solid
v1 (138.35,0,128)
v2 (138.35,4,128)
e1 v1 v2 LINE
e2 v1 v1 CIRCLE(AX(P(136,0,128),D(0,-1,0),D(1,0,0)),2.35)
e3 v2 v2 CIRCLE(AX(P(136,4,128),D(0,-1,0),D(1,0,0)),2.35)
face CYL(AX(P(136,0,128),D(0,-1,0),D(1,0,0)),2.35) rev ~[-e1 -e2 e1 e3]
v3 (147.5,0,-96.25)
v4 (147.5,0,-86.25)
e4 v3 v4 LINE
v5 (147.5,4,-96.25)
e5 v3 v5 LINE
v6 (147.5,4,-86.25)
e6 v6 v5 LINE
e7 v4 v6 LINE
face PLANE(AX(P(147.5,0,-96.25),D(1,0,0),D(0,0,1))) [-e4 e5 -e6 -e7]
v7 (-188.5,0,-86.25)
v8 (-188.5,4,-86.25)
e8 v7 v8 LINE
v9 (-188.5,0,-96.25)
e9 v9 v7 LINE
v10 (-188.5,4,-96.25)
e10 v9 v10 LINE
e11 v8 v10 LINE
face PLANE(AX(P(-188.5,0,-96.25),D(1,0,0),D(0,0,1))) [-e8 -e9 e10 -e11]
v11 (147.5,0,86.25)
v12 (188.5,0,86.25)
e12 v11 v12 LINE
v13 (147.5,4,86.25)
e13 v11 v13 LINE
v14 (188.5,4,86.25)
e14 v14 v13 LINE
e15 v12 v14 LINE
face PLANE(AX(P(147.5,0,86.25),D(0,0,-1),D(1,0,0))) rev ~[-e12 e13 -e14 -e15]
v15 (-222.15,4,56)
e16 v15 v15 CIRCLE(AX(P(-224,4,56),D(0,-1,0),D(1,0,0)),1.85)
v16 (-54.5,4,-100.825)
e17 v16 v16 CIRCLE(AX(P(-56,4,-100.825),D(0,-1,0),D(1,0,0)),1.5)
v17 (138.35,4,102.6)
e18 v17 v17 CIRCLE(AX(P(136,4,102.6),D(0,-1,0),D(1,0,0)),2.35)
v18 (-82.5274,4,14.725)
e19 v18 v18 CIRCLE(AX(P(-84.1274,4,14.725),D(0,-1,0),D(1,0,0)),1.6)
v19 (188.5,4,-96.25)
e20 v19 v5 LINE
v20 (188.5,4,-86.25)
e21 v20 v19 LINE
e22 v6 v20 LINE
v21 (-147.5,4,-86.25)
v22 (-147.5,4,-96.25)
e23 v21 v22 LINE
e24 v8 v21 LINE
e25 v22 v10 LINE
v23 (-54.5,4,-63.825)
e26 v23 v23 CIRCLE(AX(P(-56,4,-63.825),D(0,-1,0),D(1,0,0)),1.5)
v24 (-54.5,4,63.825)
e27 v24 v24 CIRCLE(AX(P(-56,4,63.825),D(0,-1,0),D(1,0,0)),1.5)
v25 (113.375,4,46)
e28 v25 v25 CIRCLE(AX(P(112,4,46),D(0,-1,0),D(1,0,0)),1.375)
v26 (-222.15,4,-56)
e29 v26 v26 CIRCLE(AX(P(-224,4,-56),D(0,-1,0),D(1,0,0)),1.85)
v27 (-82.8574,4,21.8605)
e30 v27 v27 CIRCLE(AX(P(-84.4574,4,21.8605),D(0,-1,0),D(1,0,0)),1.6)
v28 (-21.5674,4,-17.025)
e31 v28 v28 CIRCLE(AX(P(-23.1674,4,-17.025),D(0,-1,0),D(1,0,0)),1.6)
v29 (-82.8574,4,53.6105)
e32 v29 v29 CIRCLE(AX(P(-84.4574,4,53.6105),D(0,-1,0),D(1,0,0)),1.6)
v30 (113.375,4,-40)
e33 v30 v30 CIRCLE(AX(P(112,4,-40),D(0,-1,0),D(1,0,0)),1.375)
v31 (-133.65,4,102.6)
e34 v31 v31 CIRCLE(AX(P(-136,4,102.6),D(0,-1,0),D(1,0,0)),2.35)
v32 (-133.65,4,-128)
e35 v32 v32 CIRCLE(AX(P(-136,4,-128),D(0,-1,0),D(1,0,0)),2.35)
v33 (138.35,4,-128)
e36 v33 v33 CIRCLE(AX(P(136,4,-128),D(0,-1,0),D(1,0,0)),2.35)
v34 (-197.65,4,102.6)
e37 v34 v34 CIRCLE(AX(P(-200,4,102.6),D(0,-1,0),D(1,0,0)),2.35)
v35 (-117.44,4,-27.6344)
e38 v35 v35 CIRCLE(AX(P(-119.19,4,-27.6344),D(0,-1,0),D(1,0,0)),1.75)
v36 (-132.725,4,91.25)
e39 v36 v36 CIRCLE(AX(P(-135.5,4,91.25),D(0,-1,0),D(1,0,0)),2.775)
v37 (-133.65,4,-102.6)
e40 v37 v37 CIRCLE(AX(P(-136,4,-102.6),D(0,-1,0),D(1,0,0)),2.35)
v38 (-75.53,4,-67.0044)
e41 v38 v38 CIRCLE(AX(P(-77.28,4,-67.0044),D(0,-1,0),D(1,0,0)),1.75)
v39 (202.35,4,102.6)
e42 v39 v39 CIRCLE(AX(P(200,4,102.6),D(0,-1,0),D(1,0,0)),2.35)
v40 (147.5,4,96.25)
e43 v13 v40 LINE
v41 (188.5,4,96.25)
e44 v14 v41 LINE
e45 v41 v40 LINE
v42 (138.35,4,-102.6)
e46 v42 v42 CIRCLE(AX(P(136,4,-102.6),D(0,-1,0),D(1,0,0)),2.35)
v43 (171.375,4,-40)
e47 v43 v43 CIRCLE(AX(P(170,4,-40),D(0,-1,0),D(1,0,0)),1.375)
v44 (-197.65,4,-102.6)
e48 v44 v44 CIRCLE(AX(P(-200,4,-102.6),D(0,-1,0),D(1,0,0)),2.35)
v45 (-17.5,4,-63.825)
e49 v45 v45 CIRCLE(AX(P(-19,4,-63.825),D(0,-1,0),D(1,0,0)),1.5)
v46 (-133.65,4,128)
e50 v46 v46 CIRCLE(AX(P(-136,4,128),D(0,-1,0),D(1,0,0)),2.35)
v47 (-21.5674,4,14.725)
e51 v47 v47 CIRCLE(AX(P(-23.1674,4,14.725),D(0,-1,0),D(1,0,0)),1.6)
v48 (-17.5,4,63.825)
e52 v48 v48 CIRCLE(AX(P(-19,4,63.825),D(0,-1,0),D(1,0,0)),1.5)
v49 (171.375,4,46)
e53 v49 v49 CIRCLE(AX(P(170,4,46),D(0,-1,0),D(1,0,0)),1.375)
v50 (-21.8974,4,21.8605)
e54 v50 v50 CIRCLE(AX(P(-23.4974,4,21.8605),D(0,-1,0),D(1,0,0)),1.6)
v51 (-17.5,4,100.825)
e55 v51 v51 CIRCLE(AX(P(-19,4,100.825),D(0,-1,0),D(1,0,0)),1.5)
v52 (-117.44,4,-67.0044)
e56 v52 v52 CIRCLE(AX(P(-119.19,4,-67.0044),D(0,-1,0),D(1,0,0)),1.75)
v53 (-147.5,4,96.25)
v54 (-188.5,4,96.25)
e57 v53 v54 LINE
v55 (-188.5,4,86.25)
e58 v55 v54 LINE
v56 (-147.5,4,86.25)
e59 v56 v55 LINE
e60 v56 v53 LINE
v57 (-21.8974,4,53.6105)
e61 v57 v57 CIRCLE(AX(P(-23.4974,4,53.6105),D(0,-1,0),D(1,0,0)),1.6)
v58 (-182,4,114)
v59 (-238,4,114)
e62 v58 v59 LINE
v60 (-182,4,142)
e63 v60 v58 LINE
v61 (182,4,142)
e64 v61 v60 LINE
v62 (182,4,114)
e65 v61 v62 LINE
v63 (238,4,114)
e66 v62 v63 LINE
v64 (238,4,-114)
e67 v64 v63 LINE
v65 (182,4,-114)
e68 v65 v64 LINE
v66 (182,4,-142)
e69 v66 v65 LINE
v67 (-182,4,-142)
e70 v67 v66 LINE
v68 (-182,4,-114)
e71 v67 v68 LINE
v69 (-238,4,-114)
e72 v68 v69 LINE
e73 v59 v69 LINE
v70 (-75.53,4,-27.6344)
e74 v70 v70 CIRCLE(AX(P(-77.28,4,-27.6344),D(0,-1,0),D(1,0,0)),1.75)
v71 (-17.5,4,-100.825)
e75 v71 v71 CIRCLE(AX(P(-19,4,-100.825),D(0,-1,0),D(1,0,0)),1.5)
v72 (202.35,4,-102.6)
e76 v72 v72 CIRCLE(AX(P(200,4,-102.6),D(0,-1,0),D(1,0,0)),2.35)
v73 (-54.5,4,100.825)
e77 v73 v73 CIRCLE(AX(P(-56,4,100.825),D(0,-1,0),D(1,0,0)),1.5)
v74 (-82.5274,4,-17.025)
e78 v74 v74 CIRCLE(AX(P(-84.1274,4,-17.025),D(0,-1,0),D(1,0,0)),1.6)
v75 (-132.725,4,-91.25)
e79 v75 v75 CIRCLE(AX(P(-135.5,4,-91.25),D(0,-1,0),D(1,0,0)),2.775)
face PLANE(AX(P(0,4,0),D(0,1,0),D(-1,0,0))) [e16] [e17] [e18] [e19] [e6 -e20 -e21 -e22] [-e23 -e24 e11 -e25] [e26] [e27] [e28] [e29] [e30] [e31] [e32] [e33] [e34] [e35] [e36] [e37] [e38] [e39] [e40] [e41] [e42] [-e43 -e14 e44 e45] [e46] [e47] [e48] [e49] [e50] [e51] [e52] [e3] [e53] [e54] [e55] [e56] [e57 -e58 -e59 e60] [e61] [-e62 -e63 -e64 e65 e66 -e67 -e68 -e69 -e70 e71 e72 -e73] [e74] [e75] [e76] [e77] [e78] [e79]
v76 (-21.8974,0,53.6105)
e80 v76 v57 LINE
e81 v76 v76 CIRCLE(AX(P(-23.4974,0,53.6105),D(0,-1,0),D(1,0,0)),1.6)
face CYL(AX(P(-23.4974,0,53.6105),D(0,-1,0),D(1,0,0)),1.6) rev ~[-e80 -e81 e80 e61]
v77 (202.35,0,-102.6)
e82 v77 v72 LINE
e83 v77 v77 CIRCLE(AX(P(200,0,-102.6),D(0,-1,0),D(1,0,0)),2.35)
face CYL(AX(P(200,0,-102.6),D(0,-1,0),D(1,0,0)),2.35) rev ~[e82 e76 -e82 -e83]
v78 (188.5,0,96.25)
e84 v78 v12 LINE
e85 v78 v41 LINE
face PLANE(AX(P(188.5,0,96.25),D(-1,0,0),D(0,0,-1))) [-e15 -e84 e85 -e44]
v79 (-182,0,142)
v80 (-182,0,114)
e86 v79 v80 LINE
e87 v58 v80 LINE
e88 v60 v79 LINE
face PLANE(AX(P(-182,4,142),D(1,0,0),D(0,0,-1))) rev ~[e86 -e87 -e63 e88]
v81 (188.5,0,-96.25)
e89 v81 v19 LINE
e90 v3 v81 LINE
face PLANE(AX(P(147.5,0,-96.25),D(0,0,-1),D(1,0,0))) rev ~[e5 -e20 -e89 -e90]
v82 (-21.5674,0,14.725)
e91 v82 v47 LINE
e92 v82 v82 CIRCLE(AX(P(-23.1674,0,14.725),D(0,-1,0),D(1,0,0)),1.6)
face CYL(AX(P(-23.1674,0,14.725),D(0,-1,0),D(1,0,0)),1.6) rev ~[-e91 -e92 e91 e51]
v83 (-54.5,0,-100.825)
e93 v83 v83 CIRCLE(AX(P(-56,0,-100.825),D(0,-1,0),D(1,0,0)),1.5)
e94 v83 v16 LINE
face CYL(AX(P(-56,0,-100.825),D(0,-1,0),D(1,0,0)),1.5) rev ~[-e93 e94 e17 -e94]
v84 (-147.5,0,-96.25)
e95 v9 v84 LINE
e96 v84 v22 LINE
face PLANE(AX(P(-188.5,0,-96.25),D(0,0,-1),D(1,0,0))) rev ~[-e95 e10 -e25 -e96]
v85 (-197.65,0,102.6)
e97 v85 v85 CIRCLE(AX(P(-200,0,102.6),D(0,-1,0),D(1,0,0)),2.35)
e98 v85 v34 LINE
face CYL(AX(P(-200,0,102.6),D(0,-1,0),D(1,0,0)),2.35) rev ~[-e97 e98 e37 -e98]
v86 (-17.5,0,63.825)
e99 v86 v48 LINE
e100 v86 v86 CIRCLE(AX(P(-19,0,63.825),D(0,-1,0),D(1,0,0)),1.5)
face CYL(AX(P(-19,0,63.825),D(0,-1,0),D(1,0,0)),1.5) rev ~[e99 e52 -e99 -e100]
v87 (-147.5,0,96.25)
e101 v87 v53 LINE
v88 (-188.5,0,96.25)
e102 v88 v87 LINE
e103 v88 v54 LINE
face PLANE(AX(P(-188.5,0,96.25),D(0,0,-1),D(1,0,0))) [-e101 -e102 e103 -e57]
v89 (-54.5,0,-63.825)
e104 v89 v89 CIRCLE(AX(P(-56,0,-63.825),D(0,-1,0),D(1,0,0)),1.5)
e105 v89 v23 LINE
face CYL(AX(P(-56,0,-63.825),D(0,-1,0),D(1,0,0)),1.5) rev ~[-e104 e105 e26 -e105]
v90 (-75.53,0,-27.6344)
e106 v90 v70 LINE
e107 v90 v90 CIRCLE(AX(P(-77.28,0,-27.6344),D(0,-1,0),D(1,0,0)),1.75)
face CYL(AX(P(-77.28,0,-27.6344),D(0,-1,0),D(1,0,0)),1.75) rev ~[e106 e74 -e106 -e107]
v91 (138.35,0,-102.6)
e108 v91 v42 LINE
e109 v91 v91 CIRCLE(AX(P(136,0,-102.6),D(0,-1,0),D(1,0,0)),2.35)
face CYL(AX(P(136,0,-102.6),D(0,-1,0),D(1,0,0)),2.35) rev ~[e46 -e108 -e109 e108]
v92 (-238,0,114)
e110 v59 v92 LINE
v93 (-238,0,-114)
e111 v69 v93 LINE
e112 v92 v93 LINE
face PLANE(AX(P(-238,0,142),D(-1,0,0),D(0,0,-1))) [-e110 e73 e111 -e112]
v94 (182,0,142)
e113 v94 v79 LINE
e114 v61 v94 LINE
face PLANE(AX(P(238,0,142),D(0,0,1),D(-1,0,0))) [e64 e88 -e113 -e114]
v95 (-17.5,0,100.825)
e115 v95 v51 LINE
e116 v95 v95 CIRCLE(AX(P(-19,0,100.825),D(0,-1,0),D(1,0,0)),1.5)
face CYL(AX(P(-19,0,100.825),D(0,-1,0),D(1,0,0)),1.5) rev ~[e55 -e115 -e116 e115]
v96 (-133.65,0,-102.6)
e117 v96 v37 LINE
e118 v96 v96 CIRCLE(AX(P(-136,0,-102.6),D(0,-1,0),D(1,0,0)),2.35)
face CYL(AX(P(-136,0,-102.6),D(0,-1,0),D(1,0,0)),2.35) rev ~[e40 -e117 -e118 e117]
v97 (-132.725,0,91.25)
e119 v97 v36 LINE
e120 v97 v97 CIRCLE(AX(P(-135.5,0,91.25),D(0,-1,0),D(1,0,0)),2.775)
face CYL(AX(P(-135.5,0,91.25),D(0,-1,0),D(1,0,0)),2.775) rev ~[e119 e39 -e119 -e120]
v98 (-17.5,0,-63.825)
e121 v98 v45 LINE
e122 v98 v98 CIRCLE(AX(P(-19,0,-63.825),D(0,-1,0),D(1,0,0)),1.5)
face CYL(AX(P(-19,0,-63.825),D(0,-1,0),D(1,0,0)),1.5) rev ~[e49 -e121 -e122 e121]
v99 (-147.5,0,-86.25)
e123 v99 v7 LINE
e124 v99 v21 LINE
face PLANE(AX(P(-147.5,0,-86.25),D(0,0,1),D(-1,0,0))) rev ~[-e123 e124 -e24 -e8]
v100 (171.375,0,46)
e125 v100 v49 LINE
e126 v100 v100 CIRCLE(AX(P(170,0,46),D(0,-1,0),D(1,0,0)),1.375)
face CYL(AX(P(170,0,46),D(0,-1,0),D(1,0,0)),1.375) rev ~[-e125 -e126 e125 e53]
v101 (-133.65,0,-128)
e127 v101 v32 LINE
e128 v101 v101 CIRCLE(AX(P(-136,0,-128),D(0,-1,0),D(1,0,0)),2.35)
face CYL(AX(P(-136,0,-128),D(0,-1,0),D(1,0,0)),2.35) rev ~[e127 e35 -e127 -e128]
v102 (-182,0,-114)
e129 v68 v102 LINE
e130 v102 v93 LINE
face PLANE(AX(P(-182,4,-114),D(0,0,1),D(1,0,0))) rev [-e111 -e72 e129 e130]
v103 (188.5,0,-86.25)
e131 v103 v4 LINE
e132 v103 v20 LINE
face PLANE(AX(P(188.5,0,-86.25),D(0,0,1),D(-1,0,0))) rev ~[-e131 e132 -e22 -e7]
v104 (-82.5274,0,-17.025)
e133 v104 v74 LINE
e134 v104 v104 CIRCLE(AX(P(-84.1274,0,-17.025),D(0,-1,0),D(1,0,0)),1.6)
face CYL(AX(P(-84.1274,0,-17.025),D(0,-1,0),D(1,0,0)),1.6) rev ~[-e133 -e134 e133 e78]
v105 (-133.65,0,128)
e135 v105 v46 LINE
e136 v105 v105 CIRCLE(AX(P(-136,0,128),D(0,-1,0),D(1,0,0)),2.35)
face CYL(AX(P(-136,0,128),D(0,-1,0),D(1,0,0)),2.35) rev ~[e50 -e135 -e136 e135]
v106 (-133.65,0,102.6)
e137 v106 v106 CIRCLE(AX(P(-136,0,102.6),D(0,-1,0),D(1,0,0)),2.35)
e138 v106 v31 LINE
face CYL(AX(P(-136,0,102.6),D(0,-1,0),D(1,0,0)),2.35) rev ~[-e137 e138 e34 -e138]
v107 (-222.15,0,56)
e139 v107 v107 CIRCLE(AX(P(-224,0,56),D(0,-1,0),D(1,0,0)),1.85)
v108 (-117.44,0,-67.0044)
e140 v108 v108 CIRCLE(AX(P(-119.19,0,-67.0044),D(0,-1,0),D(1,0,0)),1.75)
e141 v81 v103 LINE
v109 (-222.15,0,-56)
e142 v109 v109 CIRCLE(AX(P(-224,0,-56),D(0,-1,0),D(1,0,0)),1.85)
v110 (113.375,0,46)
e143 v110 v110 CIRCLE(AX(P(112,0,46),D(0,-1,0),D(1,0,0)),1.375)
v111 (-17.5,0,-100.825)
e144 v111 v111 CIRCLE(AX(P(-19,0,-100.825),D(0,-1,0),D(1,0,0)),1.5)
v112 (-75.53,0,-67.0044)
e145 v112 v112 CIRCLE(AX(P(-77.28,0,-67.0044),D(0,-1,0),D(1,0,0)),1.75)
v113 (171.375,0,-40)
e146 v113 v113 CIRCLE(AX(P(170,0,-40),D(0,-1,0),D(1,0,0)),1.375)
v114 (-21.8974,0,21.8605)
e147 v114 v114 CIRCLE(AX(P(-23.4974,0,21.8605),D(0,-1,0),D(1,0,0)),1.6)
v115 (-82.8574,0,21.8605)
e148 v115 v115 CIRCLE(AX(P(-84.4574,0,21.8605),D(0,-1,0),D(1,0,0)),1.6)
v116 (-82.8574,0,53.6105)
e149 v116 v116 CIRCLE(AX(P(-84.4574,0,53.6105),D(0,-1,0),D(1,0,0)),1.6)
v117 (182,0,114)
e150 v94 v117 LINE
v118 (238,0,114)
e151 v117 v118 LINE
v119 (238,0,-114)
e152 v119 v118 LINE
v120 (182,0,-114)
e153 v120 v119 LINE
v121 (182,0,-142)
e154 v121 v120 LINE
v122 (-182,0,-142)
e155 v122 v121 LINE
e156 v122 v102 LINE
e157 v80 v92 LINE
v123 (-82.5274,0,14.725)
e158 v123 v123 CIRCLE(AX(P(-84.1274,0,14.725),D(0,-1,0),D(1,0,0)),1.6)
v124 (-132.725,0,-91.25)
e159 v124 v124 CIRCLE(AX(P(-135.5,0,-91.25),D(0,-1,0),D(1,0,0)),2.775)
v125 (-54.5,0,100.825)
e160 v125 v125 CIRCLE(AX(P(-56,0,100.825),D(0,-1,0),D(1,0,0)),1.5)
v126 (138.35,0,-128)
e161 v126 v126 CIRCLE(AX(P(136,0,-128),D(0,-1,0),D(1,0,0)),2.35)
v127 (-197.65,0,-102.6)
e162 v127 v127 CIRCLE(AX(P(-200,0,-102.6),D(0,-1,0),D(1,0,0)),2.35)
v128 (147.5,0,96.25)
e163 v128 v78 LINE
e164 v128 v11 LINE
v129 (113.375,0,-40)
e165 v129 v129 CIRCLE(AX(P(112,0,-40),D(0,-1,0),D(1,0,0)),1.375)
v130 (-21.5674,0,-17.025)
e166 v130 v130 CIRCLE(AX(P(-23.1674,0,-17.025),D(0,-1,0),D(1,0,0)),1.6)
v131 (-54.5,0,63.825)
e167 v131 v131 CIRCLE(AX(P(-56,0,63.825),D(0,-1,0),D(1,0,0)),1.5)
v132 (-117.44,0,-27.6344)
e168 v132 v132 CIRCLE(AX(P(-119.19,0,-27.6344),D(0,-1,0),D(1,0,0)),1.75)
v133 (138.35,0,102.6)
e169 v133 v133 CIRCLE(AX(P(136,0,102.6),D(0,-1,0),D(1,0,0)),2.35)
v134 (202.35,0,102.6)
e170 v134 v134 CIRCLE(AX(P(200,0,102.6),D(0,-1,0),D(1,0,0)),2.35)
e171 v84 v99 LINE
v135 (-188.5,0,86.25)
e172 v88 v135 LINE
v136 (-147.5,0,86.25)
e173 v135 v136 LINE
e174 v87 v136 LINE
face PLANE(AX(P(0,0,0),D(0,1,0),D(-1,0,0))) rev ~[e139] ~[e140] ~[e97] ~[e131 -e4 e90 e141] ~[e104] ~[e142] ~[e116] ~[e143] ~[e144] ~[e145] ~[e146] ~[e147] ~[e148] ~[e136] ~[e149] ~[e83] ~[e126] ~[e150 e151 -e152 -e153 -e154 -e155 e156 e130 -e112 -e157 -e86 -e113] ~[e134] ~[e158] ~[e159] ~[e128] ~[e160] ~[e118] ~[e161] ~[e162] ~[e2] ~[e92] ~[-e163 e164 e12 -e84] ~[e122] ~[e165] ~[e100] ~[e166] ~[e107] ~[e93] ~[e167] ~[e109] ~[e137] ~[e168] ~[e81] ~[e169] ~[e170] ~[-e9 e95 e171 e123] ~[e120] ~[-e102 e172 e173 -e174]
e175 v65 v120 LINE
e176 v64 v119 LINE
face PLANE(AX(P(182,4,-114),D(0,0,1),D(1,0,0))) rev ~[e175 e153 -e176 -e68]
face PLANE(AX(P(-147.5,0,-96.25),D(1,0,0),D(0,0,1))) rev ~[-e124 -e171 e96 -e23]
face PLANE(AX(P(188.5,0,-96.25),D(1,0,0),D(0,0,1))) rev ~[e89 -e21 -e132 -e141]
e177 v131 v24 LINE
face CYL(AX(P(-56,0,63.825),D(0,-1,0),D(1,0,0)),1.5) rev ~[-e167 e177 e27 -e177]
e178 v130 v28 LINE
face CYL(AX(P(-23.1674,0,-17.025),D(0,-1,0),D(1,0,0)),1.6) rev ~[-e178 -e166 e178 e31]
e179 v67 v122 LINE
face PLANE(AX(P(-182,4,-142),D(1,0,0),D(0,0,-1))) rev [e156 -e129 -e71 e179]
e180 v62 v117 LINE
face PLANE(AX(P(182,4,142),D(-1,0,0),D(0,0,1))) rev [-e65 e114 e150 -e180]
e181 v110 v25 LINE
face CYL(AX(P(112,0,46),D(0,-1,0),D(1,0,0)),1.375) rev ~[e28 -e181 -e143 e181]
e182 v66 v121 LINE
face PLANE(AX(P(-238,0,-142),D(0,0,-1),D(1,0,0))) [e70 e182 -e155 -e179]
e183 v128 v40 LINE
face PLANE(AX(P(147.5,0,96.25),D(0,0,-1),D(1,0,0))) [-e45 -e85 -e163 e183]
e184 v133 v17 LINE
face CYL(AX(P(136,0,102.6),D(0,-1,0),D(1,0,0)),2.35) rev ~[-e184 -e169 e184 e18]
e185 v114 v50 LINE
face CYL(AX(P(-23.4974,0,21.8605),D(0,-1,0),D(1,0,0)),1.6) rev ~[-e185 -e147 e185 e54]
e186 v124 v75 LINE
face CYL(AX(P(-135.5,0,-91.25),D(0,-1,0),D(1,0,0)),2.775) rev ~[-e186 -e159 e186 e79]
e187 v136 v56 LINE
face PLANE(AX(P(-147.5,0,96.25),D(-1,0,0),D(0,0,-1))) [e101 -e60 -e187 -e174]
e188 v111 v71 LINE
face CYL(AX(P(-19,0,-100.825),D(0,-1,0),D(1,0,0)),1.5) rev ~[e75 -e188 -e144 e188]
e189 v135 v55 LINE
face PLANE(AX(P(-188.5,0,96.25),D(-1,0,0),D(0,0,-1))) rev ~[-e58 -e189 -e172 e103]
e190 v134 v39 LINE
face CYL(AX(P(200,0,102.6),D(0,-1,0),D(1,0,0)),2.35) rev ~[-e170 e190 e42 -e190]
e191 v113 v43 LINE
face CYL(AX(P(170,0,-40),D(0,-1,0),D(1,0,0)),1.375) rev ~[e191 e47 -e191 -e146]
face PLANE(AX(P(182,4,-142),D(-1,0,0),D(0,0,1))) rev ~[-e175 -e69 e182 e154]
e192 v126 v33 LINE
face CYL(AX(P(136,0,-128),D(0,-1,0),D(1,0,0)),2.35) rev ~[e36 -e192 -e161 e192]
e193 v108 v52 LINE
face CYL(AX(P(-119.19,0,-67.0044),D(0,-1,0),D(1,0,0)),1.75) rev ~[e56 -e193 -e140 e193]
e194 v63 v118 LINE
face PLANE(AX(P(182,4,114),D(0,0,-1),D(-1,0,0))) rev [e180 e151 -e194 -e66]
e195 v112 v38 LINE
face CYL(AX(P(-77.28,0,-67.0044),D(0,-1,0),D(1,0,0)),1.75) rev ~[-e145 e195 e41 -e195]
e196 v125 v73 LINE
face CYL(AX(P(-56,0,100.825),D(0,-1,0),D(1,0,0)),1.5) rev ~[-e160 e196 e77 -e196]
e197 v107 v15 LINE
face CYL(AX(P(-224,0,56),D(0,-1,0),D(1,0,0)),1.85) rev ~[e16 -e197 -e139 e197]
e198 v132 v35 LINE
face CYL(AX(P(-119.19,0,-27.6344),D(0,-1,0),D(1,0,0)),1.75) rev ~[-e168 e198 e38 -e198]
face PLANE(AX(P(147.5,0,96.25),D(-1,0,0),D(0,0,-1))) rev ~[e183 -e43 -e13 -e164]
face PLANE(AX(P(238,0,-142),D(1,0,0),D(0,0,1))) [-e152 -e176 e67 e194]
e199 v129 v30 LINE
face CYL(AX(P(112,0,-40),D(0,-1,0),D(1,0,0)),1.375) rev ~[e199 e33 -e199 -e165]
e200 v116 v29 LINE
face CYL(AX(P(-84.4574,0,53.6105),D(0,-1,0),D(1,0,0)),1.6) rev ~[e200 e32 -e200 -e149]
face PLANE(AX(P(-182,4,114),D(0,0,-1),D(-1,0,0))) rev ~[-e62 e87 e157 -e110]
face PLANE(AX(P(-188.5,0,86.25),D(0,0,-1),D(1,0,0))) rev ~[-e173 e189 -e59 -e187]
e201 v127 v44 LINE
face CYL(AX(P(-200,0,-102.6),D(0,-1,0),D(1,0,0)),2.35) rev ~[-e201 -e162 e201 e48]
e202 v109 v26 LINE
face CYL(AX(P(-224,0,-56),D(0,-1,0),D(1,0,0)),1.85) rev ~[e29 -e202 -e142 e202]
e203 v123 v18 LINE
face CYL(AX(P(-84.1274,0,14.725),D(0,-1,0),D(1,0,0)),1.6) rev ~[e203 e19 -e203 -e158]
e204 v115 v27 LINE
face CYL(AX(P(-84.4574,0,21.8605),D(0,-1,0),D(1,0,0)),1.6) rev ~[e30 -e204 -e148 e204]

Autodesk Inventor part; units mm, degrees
ref_plane "YZ Plane" through (0, 0, 0) normal (1, 0, 0) x (0, 1, 0)
ref_plane "XZ Plane" through (0, 0, 0) normal (0, 1, 0) x (-1, 0, 0)
ref_plane "XY Plane" through (0, 0, 0) normal (0, 0, 1) x (1, 0, 0)
sketch "Эскиз1" plane through (0, 0, 0) normal (0, 1, 0) x (-1, 0, 0)
  line L0 (-238, 142) -> (238, 142)
  line L1 (238, 142) -> (238, -142)
  line L2 (238, -142) -> (-238, -142)
  line L3 (-238, -142) -> (-238, 142)
  line L4 (-238, 142) -> (238, -142) construction
  line L5 (238, 142) -> (-238, -142) construction
  circle A0 centre (-139.231, 22.646) radius 2
  point P0 (0, 0)
  dimension "d0" = 476
  dimension "d1" = 284
  dimension "d10" = 4
extrude "Выдавливание1" add sketch "Эскиз1" along normal blind 4 contours L0 L1 L2 L3 | A0
sketch "Эскиз2" plane through (0, 4, 0) normal (0, 1, 0) x (1, 0, 0)
  line L0 (-238, -142) -> (238, -142) projected
  line L1 (-238, -142) -> (-182, -142)
  line L2 (-182, -142) -> (-182, -114)
  line L3 (-182, -114) -> (-238, -114)
  line L4 (-238, -114) -> (-238, -142)
  point P0 (0, 0)
  dimension "d4" = 56
  dimension "d5" = 28
extrude "Выдавливание2" cut sketch "Эскиз2" against normal blind 4
mirror "Зеркальное отражение1" about plane through (0, 0, 0) normal (1, 0, 0) of "Выдавливание2"
mirror "Зеркальное отражение2" about plane through (0, 0, 0) normal (0, 0, 1) of "Выдавливание2", "Зеркальное отражение1"
sketch "Эскиз9" plane through (0, 0, 0) normal (0, -1, 0) x (1, 0, 0)
  circle A0 centre (-200, -128) radius 2.35 projected
  circle A1 centre (-136, -128) radius 2.35 projected
  circle A2 centre (-136, -128) radius 2.35 projected
  circle A3 centre (-136, -128) radius 2.35 projected
  circle A4 centre (-136, -102.6) radius 2.35 projected
  circle A5 centre (-200, -102.6) radius 2.35 projected
  circle A6 centre (-136, 102.6) radius 2.35 projected
  circle A7 centre (-136, 128) radius 2.35 projected
  circle A8 centre (-200, 102.6) radius 2.35 projected
  circle A9 centre (-200, 102.6) radius 2.35 projected
  circle A10 centre (-200, 102.6) radius 2.35 projected
  circle A11 centre (-200, 128) radius 2.35 projected
  circle A12 centre (200, 102.6) radius 2.35 projected
  circle A13 centre (200, 128) radius 2.35 projected
  circle A14 centre (136, 128) radius 2.35 projected
  circle A15 centre (136, 102.6) radius 2.35 projected
  circle A16 centre (200, -102.6) radius 2.35 projected
  circle A17 centre (200, -128) radius 2.35 projected
  circle A18 centre (136, -102.6) radius 2.35 projected
  circle A19 centre (136, -128) radius 2.35 projected
  point P0 (0, 0)
extrude "Выдавливание9" cut sketch "Эскиз9" against normal blind 10
sketch "Эскиз10" plane through (0, 0, 0) normal (0, -1, 0) x (1, 0, 0)
  line L0 (188.5, -86.25) -> (147.5, -86.25) projected
  line L1 (188.5, -96.25) -> (188.5, -86.25) projected
  line L2 (147.5, -96.25) -> (147.5, -86.25) projected
  line L3 (147.5, 96.25) -> (147.5, 86.25) projected
  line L4 (147.5, 86.25) -> (188.5, 86.25) projected
  line L5 (188.5, 96.25) -> (188.5, 86.25) projected
  line L6 (-188.5, 96.25) -> (-188.5, 86.25) projected
  line L7 (-188.5, 86.25) -> (-147.5, 86.25) projected
  line L8 (-147.5, 96.25) -> (-147.5, 86.25) projected
  line L9 (-188.5, -96.25) -> (-188.5, -86.25) projected
  line L10 (-147.5, -86.25) -> (-188.5, -86.25) projected
  line L11 (-147.5, -96.25) -> (-147.5, -86.25) projected
  line L12 (-188.5, 96.25) -> (-147.5, 96.25)
  line L13 (-147.5, 96.25) -> (-147.5, 86.25)
  line L14 (-147.5, 86.25) -> (-188.5, 86.25)
  line L15 (-188.5, 86.25) -> (-188.5, 96.25)
  line L16 (147.5, 96.25) -> (188.5, 96.25)
  line L17 (188.5, 96.25) -> (188.5, 86.25)
  line L18 (188.5, 86.25) -> (147.5, 86.25)
  line L19 (147.5, 86.25) -> (147.5, 96.25)
  line L20 (147.5, -96.25) -> (188.5, -96.25)
  line L21 (188.5, -96.25) -> (188.5, -86.25)
  line L22 (188.5, -86.25) -> (147.5, -86.25)
  line L23 (147.5, -86.25) -> (147.5, -96.25)
  line L24 (-188.5, -96.25) -> (-147.5, -96.25)
  line L25 (-147.5, -96.25) -> (-147.5, -86.25)
  line L26 (-147.5, -86.25) -> (-188.5, -86.25)
  line L27 (-188.5, -86.25) -> (-188.5, -96.25)
  point P0 (0, 0)
extrude "Выдавливание10" cut sketch "Эскиз10" against normal blind 10
sketch "Эскиз12" plane through (0, 0, 0) normal (0, -1, 0) x (1, 0, 0)
  circle A0 centre (-224, 56) radius 1.85 projected
  circle A1 centre (-224, -56) radius 1.85 projected
  circle A2 centre (-135.5, -91.25) radius 2.775 projected
  circle A3 centre (-135.5, 91.25) radius 2.775 projected
  circle A4 centre (-119.19, -27.6344) radius 1.75 projected
  circle A5 centre (-77.28, -27.6344) radius 1.75 projected
  circle A6 centre (-77.28, -67.0044) radius 1.75 projected
  circle A7 centre (-119.19, -67.0044) radius 1.75 projected
  circle A8 centre (-56, -63.825) radius 1.5 projected
  circle A9 centre (-56, -100.825) radius 1.5 projected
  circle A10 centre (-19, -100.825) radius 1.5 projected
  circle A11 centre (-19, -63.825) radius 1.5 projected
  circle A12 centre (-56, 63.825) radius 1.5 projected
  circle A13 centre (-56, 100.825) radius 1.5 projected
  circle A14 centre (-19, 100.825) radius 1.5 projected
  circle A15 centre (-19, 63.825) radius 1.5 projected
  circle A16 centre (-84.1274, 14.725) radius 1.6 projected
  circle A17 centre (-84.1274, -17.025) radius 1.6 projected
  circle A18 centre (-23.1674, -17.025) radius 1.6 projected
  circle A19 centre (-23.1674, 14.725) radius 1.6 projected
  circle A20 centre (112, 46) radius 1.375 projected
  circle A21 centre (170, 46) radius 1.375 projected
  circle A22 centre (170, -40) radius 1.375 projected
  circle A23 centre (112, -40) radius 1.375 projected
  point P0 (0, 0)
extrude "Выдавливание12" cut sketch "Эскиз12" against normal through all
sketch "Эскиз15" plane through (0, 0, 0) normal (0, -1, 0) x (1, 0, 0)
  circle A0 centre (-23.4974, 53.6105) radius 1.6 projected
  circle A1 centre (-23.4974, 21.8605) radius 1.6 projected
  circle A2 centre (-84.4574, 21.8605) radius 1.6 projected
  circle A3 centre (-84.4574, 53.6105) radius 1.6 projected
  point P0 (0, 0)
extrude "Выдавливание13" cut sketch "Эскиз15" against normal blind 10
properties part number "000.001.002 - Днище"
